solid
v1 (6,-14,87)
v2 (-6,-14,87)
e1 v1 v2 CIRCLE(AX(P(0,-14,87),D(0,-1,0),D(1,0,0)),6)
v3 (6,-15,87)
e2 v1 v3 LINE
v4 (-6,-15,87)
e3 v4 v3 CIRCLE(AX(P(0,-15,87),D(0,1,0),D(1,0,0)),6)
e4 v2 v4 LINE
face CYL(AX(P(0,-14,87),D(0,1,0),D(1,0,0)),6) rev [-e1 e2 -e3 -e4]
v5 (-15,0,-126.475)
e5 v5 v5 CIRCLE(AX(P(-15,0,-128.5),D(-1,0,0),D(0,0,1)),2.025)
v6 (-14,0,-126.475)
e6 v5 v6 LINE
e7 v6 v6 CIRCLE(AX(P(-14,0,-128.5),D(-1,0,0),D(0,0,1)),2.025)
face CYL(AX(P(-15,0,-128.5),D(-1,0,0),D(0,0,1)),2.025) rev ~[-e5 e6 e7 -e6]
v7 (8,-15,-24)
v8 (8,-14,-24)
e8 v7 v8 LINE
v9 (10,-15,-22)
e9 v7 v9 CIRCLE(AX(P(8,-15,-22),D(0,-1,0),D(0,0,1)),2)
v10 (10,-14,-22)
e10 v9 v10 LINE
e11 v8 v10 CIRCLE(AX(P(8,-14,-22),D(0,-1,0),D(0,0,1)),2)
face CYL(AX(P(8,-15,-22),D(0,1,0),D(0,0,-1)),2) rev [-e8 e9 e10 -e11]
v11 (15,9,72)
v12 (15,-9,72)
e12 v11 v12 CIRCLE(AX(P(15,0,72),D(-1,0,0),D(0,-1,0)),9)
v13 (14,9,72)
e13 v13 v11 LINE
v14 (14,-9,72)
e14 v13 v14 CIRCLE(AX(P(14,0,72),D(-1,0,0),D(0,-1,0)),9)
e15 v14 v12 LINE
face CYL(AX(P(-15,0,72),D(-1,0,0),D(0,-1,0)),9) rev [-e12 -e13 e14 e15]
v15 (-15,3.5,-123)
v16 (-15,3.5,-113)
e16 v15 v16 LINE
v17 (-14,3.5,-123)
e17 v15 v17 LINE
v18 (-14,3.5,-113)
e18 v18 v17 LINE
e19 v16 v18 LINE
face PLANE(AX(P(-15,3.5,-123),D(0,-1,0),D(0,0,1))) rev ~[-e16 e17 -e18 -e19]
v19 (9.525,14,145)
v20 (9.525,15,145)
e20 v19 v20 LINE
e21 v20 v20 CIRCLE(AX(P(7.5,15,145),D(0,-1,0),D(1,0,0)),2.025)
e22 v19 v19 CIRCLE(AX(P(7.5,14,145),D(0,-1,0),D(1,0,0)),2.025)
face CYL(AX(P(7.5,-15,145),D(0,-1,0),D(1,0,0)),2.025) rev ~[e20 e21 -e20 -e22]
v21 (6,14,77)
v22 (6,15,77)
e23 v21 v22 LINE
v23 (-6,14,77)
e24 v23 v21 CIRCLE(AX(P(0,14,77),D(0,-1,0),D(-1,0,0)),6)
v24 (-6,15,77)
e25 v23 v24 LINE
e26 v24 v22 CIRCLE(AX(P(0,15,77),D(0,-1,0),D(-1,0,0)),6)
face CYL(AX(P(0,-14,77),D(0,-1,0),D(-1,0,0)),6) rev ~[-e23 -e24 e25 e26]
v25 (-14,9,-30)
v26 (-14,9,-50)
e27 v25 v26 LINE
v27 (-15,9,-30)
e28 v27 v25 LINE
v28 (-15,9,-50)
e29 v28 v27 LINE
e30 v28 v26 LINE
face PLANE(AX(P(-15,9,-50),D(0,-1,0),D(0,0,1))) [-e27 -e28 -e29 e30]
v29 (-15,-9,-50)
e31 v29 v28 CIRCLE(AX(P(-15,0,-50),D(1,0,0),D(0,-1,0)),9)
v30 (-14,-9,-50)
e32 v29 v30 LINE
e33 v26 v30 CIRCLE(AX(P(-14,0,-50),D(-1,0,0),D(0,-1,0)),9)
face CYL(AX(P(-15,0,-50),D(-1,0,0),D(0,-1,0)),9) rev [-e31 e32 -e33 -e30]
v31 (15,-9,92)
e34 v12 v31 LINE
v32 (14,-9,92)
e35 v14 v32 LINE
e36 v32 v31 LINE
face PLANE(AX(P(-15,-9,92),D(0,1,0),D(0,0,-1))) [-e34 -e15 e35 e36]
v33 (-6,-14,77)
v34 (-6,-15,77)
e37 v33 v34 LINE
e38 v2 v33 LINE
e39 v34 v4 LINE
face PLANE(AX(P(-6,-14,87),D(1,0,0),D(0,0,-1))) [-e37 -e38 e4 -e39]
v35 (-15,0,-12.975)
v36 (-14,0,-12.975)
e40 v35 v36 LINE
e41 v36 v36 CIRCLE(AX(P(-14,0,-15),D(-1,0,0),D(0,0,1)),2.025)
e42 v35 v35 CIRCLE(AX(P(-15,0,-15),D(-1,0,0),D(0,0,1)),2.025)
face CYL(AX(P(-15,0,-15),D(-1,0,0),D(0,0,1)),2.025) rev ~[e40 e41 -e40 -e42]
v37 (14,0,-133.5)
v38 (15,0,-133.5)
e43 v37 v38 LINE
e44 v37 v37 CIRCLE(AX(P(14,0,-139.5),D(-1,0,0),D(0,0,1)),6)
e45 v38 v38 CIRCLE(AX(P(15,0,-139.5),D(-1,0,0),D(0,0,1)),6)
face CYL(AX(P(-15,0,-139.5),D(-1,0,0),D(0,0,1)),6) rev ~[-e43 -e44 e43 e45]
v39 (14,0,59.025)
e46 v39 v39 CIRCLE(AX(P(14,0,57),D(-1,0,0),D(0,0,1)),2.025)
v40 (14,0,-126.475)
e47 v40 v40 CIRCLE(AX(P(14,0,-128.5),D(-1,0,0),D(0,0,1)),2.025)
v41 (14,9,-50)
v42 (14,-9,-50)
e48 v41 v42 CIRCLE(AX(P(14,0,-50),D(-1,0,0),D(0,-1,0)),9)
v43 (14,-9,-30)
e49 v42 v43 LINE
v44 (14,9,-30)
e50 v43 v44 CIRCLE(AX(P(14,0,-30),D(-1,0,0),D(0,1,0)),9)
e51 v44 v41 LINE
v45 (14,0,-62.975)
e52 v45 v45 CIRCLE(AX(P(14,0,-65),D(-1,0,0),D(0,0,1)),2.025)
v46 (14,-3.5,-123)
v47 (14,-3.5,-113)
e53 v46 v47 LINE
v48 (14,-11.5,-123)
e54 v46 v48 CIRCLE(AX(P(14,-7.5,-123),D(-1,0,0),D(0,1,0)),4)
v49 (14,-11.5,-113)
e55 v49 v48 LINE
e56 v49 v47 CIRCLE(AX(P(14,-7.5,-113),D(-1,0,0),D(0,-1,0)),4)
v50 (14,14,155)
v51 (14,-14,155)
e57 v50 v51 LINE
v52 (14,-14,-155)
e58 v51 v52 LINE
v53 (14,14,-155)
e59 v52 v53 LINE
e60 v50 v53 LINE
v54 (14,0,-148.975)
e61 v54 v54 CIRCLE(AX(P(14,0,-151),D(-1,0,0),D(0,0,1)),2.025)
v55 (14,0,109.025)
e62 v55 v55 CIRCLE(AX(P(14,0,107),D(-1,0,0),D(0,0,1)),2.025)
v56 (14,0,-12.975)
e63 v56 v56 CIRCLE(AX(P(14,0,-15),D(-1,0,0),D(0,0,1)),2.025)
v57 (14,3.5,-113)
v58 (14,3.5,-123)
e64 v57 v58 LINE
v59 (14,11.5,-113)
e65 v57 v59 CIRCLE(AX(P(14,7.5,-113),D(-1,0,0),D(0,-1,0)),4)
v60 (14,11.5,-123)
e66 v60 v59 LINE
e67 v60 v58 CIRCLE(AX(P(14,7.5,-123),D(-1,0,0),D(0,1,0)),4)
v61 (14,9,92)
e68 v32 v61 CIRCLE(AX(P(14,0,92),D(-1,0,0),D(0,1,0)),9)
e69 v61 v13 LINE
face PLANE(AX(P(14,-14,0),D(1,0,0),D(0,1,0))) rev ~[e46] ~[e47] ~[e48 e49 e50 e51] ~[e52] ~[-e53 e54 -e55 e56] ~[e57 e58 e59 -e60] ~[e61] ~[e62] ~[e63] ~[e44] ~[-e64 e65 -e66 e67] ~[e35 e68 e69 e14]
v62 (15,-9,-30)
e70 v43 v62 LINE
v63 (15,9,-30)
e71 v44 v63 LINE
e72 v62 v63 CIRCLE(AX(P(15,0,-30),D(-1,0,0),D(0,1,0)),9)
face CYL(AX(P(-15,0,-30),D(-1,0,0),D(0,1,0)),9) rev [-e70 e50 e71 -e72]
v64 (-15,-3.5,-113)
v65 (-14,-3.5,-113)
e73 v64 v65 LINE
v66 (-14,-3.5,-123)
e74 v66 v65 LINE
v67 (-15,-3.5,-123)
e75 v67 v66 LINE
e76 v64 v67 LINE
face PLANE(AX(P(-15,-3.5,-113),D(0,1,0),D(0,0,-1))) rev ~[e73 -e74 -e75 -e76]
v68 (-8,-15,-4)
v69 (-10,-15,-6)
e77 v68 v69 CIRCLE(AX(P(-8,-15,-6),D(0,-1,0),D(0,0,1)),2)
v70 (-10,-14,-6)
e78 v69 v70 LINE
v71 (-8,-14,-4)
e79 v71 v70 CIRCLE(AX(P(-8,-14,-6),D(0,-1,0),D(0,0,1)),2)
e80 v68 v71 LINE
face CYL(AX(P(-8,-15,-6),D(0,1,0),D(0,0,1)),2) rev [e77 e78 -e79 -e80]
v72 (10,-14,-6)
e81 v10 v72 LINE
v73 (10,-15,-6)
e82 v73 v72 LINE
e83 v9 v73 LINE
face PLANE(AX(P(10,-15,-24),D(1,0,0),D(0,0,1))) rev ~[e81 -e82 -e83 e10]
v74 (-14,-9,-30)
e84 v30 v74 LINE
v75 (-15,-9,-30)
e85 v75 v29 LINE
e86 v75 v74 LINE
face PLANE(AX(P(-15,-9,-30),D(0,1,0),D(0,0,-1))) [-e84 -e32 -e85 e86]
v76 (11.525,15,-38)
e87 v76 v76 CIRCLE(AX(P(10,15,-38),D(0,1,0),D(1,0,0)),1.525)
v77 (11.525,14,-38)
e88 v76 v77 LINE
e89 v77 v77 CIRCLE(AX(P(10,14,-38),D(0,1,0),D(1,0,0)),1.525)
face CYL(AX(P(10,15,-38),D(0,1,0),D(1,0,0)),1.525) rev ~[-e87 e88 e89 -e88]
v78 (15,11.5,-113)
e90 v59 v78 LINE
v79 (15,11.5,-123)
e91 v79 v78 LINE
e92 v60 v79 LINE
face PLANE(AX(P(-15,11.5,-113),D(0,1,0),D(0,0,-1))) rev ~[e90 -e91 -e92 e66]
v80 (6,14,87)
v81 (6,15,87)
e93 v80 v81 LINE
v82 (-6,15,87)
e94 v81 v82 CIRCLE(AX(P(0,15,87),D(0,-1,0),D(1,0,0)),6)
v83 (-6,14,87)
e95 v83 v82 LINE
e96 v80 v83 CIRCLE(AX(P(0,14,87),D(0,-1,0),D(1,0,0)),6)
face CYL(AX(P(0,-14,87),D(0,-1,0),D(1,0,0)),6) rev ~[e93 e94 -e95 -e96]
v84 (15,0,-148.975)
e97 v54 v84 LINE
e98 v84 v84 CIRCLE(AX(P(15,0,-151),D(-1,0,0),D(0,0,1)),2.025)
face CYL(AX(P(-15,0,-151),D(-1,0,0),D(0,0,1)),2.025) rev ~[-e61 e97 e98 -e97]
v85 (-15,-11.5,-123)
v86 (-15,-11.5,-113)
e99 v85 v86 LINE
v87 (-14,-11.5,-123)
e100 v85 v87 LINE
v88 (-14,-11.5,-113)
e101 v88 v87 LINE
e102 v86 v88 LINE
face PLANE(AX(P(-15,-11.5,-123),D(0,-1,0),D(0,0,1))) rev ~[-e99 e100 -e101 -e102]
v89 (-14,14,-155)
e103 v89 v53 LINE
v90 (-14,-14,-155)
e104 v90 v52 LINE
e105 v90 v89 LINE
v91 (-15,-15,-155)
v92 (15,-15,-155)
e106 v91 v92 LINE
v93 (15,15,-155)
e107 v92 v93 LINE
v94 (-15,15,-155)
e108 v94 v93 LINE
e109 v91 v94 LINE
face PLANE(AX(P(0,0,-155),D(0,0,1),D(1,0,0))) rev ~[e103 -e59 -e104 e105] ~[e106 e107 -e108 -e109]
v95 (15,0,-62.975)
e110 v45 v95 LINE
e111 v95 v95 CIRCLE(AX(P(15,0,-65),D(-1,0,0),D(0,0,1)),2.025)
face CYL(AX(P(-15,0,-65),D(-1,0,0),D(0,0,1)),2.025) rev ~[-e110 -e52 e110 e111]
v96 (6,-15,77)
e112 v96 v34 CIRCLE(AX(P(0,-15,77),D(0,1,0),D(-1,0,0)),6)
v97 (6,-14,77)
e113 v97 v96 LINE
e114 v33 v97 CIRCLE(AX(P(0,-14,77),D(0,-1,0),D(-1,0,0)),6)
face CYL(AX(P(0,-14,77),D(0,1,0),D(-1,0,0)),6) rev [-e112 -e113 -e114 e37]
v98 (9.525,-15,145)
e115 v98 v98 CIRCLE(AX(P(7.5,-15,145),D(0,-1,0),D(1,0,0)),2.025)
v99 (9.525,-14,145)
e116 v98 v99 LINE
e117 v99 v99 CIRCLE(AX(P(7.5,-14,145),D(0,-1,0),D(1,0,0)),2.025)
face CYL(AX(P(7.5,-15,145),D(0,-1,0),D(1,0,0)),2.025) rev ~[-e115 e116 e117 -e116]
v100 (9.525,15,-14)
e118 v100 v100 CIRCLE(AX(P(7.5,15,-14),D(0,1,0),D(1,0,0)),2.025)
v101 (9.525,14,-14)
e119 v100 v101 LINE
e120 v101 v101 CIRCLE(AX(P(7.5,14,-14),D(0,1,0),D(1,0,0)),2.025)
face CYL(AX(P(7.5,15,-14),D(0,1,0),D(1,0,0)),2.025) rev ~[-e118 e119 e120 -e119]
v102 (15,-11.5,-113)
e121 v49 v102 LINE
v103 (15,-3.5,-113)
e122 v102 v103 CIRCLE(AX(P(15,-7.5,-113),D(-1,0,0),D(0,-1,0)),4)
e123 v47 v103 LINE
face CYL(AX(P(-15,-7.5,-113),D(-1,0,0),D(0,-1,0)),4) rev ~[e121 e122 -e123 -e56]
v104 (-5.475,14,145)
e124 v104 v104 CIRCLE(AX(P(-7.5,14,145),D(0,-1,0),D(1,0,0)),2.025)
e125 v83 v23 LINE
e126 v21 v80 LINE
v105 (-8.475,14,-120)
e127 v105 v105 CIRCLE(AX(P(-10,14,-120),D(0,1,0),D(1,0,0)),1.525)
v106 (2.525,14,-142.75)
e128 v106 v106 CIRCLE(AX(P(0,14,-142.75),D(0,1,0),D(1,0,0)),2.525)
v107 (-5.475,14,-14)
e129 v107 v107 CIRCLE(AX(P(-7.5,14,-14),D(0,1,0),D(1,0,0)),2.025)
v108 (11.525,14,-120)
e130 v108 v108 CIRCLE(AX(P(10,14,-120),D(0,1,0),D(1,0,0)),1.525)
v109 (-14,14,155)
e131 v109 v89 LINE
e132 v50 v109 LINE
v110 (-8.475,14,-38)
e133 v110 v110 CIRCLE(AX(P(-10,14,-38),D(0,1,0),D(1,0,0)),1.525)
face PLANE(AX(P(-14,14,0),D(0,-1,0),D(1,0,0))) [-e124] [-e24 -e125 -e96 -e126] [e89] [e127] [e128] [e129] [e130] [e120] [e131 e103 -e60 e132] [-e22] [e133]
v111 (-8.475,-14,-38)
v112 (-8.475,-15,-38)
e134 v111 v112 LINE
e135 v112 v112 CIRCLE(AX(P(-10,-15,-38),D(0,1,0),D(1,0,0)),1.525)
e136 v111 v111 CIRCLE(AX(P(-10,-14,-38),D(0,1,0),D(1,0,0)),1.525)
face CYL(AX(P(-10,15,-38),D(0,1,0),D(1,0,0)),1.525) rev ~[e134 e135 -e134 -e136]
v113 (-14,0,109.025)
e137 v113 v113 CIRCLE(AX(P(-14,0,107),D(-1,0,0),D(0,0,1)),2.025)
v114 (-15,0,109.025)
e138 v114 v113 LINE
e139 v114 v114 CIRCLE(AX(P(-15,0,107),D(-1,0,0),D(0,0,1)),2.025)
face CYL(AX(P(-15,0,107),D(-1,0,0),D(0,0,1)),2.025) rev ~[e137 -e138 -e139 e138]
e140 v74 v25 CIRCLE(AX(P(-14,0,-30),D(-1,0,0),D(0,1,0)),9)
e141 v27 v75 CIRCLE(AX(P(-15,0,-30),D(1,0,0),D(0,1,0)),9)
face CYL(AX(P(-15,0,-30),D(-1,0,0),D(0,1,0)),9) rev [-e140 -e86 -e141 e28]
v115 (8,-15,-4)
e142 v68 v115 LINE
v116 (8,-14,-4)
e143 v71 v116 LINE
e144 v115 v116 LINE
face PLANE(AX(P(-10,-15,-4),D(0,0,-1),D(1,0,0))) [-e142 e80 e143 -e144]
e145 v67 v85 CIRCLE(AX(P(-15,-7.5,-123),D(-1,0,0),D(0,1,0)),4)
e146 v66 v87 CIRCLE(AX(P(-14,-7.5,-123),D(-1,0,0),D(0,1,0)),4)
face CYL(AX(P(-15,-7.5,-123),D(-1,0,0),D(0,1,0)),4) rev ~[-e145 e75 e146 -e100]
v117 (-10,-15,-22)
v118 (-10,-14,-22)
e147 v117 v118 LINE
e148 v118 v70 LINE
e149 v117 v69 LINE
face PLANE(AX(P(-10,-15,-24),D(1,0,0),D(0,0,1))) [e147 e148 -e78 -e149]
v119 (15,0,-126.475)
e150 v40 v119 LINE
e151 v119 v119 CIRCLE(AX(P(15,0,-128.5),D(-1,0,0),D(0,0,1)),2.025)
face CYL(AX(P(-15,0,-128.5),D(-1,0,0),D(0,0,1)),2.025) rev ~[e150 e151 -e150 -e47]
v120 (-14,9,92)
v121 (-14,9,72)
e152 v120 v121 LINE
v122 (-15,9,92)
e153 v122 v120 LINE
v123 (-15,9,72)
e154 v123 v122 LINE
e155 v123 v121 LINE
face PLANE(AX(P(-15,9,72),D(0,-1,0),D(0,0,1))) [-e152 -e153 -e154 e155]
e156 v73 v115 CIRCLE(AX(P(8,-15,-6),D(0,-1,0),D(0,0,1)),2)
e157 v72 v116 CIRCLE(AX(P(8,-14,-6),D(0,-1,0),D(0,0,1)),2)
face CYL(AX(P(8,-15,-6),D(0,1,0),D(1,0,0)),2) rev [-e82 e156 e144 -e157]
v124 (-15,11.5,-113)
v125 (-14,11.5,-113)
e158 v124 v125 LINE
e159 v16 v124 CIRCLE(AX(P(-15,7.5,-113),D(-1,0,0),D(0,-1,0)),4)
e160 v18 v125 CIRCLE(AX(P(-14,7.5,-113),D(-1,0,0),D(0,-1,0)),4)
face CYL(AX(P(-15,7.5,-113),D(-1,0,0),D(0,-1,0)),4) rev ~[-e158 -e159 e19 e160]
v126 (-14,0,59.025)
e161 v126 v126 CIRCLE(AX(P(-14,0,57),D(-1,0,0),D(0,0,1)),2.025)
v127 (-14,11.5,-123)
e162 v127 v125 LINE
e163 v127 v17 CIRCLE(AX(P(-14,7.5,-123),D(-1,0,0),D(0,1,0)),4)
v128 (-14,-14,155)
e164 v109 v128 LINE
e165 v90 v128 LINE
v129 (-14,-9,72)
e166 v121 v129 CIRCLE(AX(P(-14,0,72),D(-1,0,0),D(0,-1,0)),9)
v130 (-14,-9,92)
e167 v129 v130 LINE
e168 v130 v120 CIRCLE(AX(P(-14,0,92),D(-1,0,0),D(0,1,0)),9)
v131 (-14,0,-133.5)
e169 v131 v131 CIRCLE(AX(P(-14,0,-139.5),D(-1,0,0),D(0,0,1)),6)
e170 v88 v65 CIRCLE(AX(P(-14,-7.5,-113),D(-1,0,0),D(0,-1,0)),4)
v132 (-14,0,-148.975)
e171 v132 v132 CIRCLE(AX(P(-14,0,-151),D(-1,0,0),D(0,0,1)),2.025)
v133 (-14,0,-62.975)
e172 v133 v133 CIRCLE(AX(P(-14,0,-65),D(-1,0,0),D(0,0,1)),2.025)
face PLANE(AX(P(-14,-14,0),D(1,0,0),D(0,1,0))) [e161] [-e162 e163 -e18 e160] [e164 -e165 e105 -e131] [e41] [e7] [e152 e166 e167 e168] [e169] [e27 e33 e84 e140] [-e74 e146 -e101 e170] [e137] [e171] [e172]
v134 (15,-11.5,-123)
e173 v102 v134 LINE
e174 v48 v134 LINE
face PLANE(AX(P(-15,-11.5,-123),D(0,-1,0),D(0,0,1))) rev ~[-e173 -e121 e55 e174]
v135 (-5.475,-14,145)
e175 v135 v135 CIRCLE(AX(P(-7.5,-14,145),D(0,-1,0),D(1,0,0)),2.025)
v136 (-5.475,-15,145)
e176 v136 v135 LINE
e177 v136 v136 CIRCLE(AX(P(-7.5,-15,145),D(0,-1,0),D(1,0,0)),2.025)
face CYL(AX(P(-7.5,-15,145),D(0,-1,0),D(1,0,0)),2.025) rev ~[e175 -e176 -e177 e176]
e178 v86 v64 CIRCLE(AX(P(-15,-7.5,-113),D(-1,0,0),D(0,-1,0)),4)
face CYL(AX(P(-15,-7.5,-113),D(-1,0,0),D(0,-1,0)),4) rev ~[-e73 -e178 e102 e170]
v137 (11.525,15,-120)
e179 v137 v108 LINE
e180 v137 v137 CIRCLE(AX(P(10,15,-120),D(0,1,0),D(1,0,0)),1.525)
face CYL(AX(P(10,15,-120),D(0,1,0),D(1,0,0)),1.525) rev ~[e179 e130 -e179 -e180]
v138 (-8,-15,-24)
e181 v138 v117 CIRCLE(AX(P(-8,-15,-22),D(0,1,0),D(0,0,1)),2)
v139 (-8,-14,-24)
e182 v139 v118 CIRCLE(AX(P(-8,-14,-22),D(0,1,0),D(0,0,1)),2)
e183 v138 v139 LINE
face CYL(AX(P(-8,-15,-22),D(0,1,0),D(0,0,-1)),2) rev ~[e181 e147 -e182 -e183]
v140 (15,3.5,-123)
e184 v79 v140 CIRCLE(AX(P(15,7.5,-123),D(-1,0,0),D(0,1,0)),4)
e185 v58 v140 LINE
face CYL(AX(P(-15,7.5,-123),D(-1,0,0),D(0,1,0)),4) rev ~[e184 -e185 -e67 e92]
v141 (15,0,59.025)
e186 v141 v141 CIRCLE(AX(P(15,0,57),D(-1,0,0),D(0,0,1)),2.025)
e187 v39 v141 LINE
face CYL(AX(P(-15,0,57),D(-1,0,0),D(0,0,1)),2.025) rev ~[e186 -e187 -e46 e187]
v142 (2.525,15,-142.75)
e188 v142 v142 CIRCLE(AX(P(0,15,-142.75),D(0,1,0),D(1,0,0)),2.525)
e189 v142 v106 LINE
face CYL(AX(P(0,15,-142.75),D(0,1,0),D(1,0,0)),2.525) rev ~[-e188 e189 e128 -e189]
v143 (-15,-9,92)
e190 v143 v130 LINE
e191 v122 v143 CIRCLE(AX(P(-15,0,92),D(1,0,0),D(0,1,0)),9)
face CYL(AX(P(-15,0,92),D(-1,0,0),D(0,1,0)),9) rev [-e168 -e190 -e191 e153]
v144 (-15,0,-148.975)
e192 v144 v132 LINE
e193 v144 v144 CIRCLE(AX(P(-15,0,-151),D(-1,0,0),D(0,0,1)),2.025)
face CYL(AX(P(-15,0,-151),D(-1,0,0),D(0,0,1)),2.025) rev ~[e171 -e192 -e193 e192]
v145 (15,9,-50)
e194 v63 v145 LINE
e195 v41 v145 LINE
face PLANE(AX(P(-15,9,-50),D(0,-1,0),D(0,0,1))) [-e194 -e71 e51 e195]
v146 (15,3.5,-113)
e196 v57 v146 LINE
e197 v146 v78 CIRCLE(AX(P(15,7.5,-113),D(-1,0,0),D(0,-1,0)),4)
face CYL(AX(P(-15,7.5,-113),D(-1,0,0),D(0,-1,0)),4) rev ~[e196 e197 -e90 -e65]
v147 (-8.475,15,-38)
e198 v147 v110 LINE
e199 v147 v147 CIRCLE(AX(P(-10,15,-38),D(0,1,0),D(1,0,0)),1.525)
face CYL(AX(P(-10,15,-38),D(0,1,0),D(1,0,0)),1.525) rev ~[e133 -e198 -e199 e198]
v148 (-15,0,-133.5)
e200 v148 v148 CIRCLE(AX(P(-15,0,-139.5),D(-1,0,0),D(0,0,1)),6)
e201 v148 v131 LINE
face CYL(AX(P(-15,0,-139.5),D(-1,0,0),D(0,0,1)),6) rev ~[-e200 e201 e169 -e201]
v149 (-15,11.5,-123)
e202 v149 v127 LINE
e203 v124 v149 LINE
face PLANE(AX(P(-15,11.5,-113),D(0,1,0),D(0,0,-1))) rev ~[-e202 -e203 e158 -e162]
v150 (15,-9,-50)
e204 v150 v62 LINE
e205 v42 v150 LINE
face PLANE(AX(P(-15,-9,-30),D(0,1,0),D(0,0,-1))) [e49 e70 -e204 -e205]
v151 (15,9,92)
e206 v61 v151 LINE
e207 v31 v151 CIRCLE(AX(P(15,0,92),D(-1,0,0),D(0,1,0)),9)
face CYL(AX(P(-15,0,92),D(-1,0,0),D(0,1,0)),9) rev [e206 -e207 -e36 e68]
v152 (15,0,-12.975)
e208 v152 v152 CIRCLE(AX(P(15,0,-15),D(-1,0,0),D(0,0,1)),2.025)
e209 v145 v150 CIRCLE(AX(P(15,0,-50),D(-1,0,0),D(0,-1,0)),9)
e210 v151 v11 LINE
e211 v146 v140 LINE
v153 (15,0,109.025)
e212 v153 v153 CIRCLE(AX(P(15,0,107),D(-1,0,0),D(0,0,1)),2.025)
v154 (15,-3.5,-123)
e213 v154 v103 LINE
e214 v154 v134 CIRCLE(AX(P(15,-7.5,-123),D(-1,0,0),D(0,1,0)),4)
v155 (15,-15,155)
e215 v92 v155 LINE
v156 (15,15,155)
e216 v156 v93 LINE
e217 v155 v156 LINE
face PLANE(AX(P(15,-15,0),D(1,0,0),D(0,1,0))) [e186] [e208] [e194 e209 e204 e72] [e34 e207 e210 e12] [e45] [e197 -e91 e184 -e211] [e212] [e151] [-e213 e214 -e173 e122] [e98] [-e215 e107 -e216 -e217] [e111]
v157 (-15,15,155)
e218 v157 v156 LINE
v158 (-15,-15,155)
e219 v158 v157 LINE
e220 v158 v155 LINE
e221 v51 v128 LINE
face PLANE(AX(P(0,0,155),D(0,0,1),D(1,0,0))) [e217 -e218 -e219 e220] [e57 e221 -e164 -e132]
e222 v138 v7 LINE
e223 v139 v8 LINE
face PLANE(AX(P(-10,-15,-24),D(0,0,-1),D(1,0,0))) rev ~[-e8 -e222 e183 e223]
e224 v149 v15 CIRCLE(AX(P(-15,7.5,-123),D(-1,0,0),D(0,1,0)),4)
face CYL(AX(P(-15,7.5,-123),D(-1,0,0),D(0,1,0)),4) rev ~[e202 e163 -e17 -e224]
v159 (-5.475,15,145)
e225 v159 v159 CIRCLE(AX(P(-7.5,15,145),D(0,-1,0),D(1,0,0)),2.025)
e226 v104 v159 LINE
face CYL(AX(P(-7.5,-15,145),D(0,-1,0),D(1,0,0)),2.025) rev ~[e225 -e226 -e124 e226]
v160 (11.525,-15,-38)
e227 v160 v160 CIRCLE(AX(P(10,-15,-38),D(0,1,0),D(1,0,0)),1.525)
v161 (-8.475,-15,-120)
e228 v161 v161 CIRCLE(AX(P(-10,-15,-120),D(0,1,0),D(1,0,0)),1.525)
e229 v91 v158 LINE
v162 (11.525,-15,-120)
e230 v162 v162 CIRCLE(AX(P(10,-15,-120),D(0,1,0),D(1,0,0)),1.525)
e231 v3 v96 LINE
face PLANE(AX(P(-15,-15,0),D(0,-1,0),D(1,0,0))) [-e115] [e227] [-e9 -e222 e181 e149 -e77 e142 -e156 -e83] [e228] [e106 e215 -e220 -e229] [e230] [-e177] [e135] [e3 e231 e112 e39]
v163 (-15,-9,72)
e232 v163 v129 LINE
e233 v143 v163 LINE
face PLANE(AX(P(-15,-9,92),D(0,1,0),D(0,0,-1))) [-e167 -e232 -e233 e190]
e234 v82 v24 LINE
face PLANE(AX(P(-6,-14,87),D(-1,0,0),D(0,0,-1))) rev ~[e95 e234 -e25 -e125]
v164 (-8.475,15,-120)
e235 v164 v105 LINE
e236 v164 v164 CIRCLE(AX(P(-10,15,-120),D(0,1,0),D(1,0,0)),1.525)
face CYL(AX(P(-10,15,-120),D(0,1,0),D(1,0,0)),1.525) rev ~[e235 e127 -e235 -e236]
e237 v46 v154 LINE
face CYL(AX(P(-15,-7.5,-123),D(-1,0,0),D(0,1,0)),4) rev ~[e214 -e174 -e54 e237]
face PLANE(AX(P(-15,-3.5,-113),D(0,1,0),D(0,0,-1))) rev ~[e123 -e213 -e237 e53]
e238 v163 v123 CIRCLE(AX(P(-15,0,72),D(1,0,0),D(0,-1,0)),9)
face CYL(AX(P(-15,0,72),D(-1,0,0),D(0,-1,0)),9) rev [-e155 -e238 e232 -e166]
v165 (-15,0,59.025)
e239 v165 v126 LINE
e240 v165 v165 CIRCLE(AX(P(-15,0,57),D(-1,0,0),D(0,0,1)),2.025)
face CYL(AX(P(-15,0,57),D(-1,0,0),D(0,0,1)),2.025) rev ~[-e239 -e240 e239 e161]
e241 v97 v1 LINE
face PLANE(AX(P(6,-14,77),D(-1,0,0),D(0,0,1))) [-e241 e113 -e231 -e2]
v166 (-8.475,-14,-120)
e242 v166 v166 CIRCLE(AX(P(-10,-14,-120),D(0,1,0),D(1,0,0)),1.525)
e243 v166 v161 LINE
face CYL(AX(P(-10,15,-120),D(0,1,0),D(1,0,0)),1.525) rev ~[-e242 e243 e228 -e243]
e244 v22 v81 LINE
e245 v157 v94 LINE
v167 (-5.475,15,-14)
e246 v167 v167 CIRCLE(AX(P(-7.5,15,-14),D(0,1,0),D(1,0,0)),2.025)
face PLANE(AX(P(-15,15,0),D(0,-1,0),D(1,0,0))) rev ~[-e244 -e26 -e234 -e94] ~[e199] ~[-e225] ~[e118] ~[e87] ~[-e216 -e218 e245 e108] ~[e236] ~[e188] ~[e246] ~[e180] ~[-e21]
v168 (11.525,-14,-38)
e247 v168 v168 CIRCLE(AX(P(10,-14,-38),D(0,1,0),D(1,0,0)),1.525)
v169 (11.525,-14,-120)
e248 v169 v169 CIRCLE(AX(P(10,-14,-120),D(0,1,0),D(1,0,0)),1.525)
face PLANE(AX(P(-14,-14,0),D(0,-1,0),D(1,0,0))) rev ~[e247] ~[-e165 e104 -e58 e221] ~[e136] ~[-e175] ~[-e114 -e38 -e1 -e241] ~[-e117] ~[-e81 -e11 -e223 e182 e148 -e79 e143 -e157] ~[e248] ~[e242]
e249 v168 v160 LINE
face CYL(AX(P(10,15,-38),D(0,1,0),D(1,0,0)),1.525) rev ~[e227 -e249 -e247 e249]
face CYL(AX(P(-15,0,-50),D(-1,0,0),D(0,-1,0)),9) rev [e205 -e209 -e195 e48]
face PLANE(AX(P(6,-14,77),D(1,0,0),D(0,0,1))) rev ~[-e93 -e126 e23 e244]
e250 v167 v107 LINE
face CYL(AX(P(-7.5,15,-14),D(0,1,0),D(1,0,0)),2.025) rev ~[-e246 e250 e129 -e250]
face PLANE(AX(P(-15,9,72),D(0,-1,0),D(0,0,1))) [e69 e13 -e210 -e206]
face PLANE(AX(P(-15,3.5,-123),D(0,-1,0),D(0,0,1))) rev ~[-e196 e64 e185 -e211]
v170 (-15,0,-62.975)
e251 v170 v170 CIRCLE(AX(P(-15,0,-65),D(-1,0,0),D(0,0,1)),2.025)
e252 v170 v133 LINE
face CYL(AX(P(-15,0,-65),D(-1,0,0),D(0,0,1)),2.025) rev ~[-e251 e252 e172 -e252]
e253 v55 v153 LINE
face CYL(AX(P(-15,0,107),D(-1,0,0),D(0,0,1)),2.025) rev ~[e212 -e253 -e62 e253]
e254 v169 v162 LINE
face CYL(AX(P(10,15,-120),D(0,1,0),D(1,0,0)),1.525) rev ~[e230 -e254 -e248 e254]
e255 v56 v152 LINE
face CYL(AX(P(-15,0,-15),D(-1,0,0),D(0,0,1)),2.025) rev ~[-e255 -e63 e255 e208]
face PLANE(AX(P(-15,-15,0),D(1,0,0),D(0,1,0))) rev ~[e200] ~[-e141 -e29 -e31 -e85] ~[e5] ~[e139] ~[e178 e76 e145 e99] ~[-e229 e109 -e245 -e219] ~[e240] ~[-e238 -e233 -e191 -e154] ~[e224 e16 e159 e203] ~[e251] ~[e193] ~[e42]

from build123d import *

# Parameters (mm, degrees)
SKETCH_1_W                = 30
SKETCH_1_H                = 30
EXTRUDE_1_DEPTH           = 155
SKETCH_2_W                = 28
SKETCH_2_H                = 28
CUT_EXTRUDE_1_DEPTH       = 156
CUT_EXTRUDE_1_DEPTH_BACK  = 156
SKETCH_3_R                = 2.025
CUT_EXTRUDE_2_DEPTH       = 31
SKETCH_4_R                = 2.025
CUT_EXTRUDE_3_DEPTH       = 1
CUT_EXTRUDE_3_DEPTH_BACK  = 31
SKETCH_5_R                = 2.025
CUT_EXTRUDE_4_DEPTH       = 1
CUT_EXTRUDE_4_DEPTH_BACK  = 31
SKETCH_6_W                = 20
SKETCH_6_H                = 20
CUT_EXTRUDE_5_DEPTH       = 3
FILLET_1_R                = 2
SKETCH_7_R                = 2.025
CUT_EXTRUDE_6_DEPTH       = 1
CUT_EXTRUDE_6_DEPTH_BACK  = 31
SKETCH_8_R                = 6
CUT_EXTRUDE_7_DEPTH       = 1
CUT_EXTRUDE_7_DEPTH_BACK  = 31
SKETCH_9_R                = 1.525
CUT_EXTRUDE_8_DEPTH       = 31
CUT_EXTRUDE_9_DEPTH       = 31
CUT_EXTRUDE_10_DEPTH      = 31
CUT_EXTRUDE_11_DEPTH      = 1
CUT_EXTRUDE_11_DEPTH_BACK = 31
CUT_EXTRUDE_START         = -29
CUT_EXTRUDE_12_DEPTH      = 30
CUT_EXTRUDE_12_DEPTH_BACK = 31
CUT_EXTRUDE_13_REACH      = 32
SKETCH_14_R               = 2.525


with BuildPart() as part:
    # 草图1 → 凸台-拉伸1 (new body, symmetric)
    with BuildSketch(Plane.XY):
        Rectangle(SKETCH_1_W, SKETCH_1_H)
    extrude(amount=EXTRUDE_1_DEPTH, both=True)

    # 草图2 → 切除-拉伸1 (cut, two sides)
    with BuildSketch(Plane.XY) as cut_extrude_1_sk:
        Rectangle(SKETCH_2_W, SKETCH_2_H)
    extrude(amount=CUT_EXTRUDE_1_DEPTH, mode=Mode.SUBTRACT)
    extrude(cut_extrude_1_sk.sketch, amount=-CUT_EXTRUDE_1_DEPTH_BACK, mode=Mode.SUBTRACT)

    # 草图3 → 切除-拉伸2 (cut, through all)
    with BuildSketch(Plane.ZY.offset(15)):
        with Locations((-151, 0)):
            Circle(SKETCH_3_R)
        with Locations((-128.5, 0)):
            Circle(SKETCH_3_R)
    extrude(amount=-CUT_EXTRUDE_2_DEPTH, mode=Mode.SUBTRACT)

    # 草图4 → 切除-拉伸3 (cut, two sides)
    with BuildSketch(Plane.ZY.offset(15)) as cut_extrude_3_sk:
        with Locations((-65, 0)):
            Circle(SKETCH_4_R)
        with Locations((-15, 0)):
            Circle(SKETCH_4_R)
        with Locations((107, 0)):
            Circle(SKETCH_4_R)
        with Locations((57, 0)):
            Circle(SKETCH_4_R)
    extrude(amount=CUT_EXTRUDE_3_DEPTH, mode=Mode.SUBTRACT)
    extrude(cut_extrude_3_sk.sketch, amount=-CUT_EXTRUDE_3_DEPTH_BACK, mode=Mode.SUBTRACT)

    # 草图5 → 切除-拉伸4 (cut, two sides)
    with BuildSketch(Plane.XZ.offset(15)) as cut_extrude_4_sk:
        with Locations((-7.5, 145)):
            Circle(SKETCH_5_R)
        with Locations((7.5, 145)):
            Circle(SKETCH_5_R)
    extrude(amount=CUT_EXTRUDE_4_DEPTH, mode=Mode.SUBTRACT)
    extrude(cut_extrude_4_sk.sketch, amount=-CUT_EXTRUDE_4_DEPTH_BACK, mode=Mode.SUBTRACT)

    # 草图6 → 切除-拉伸5 (cut)
    with BuildSketch(Plane.XZ.offset(15)):
        with Locations((0, -14)):
            Rectangle(SKETCH_6_W, SKETCH_6_H)
    extrude(amount=-CUT_EXTRUDE_5_DEPTH, mode=Mode.SUBTRACT)

    # 圆角1
    fillet_1_edges = [part.edges().sort_by_distance(p)[0] for p in [
        (-10, -14.5, -24),
        (-10, -14.5, -4),
        (10, -14.5, -4),
        (10, -14.5, -24),
    ]]
    fillet(fillet_1_edges, radius=FILLET_1_R)

    # 草图7 → 切除-拉伸6 (cut, two sides)
    with BuildSketch(Plane(origin=(0, 15, 0), x_dir=(1, 0, 0), z_dir=(0, 1, 0))) as cut_extrude_6_sk:
        with Locations((-7.5, 14)):
            Circle(SKETCH_7_R)
        with Locations((7.5, 14)):
            Circle(SKETCH_7_R)
    extrude(amount=CUT_EXTRUDE_6_DEPTH, mode=Mode.SUBTRACT)
    extrude(cut_extrude_6_sk.sketch, amount=-CUT_EXTRUDE_6_DEPTH_BACK, mode=Mode.SUBTRACT)

    # 草图8 → 切除-拉伸7 (cut, two sides)
    with BuildSketch(Plane.ZY.offset(15)) as cut_extrude_7_sk:
        with Locations((-139.5, 0)):
            Circle(SKETCH_8_R)
    extrude(amount=CUT_EXTRUDE_7_DEPTH, mode=Mode.SUBTRACT)
    extrude(cut_extrude_7_sk.sketch, amount=-CUT_EXTRUDE_7_DEPTH_BACK, mode=Mode.SUBTRACT)

    # 草图9 → 切除-拉伸8 (cut, through all)
    with BuildSketch(Plane(origin=(0, 15, 0), x_dir=(1, 0, 0), z_dir=(0, 1, 0))):
        with Locations((-10, 120)):
            Circle(SKETCH_9_R)
        with Locations((10, 120)):
            Circle(SKETCH_9_R)
        with Locations((-10, 38)):
            Circle(SKETCH_9_R)
        with Locations((10, 38)):
            Circle(SKETCH_9_R)
    extrude(amount=-CUT_EXTRUDE_8_DEPTH, mode=Mode.SUBTRACT)

    # 草图10 → 切除-拉伸9 (cut, through all)
    with BuildSketch(Plane.ZY.offset(15)):
        with BuildLine():
            Line((-50, 9), (-30, 9))
            ThreePointArc((-30, 9), (-21, 0), (-30, -9))
            Line((-30, -9), (-50, -9))
            ThreePointArc((-50, -9), (-59, 0), (-50, 9))
        make_face()
    extrude(amount=-CUT_EXTRUDE_9_DEPTH, mode=Mode.SUBTRACT)

    # 草图11 → 切除-拉伸10 (cut, through all)
    with BuildSketch(Plane.ZY.offset(15)):
        with BuildLine():
            Line((-123, 3.5), (-113, 3.5))
            ThreePointArc((-113, 3.5), (-109, 7.5), (-113, 11.5))
            Line((-113, 11.5), (-123, 11.5))
            ThreePointArc((-123, 11.5), (-127, 7.5), (-123, 3.5))
        make_face()
        with BuildLine():
            Line((-123, -11.5), (-113, -11.5))
            ThreePointArc((-113, -11.5), (-109, -7.5), (-113, -3.5))
            Line((-113, -3.5), (-123, -3.5))
            ThreePointArc((-123, -3.5), (-127, -7.5), (-123, -11.5))
        make_face()
    extrude(amount=-CUT_EXTRUDE_10_DEPTH, mode=Mode.SUBTRACT)

    # 草图12 → 切除-拉伸11 (cut, two sides)
    with BuildSketch(Plane.ZY.offset(15)) as cut_extrude_11_sk:
        with BuildLine():
            Line((72, 9), (92, 9))
            ThreePointArc((92, 9), (101, 0), (92, -9))
            Line((92, -9), (72, -9))
            ThreePointArc((72, -9), (63, 0), (72, 9))
        make_face()
    extrude(amount=CUT_EXTRUDE_11_DEPTH, mode=Mode.SUBTRACT)
    extrude(cut_extrude_11_sk.sketch, amount=-CUT_EXTRUDE_11_DEPTH_BACK, mode=Mode.SUBTRACT)

    # 草图13 → 切除-拉伸12 (cut, two sides)
    with BuildSketch(Plane(origin=(0, 15, 0), x_dir=(1, 0, 0), z_dir=(0, 1, 0)).offset(CUT_EXTRUDE_START)) as cut_extrude_12_sk:
        with BuildLine():
            Line((-6, -87), (-6, -77))
            ThreePointArc((-6, -77), (0, -71), (6, -77))
            Line((6, -77), (6, -87))
            ThreePointArc((6, -87), (0, -93), (-6, -87))
        make_face()
    extrude(amount=CUT_EXTRUDE_12_DEPTH, mode=Mode.SUBTRACT)
    extrude(cut_extrude_12_sk.sketch, amount=-CUT_EXTRUDE_12_DEPTH_BACK, mode=Mode.SUBTRACT)

    # 草图14 → 切除-拉伸13 (cut, up to next)
    with BuildSketch(Plane(origin=(0, 15, 0), x_dir=(1, 0, 0), z_dir=(0, 1, 0)), mode=Mode.PRIVATE) as cut_extrude_13_sk1:
        with Locations((0, 142.75)):
            Circle(SKETCH_14_R)
    cut_extrude_13_tool1 = extrude(cut_extrude_13_sk1.sketch, amount=-CUT_EXTRUDE_13_REACH, mode=Mode.PRIVATE) & part.part
    add(cut_extrude_13_tool1.solids().sort_by_distance((0, 15, -142.75))[0], mode=Mode.SUBTRACT)


solid = part.part
